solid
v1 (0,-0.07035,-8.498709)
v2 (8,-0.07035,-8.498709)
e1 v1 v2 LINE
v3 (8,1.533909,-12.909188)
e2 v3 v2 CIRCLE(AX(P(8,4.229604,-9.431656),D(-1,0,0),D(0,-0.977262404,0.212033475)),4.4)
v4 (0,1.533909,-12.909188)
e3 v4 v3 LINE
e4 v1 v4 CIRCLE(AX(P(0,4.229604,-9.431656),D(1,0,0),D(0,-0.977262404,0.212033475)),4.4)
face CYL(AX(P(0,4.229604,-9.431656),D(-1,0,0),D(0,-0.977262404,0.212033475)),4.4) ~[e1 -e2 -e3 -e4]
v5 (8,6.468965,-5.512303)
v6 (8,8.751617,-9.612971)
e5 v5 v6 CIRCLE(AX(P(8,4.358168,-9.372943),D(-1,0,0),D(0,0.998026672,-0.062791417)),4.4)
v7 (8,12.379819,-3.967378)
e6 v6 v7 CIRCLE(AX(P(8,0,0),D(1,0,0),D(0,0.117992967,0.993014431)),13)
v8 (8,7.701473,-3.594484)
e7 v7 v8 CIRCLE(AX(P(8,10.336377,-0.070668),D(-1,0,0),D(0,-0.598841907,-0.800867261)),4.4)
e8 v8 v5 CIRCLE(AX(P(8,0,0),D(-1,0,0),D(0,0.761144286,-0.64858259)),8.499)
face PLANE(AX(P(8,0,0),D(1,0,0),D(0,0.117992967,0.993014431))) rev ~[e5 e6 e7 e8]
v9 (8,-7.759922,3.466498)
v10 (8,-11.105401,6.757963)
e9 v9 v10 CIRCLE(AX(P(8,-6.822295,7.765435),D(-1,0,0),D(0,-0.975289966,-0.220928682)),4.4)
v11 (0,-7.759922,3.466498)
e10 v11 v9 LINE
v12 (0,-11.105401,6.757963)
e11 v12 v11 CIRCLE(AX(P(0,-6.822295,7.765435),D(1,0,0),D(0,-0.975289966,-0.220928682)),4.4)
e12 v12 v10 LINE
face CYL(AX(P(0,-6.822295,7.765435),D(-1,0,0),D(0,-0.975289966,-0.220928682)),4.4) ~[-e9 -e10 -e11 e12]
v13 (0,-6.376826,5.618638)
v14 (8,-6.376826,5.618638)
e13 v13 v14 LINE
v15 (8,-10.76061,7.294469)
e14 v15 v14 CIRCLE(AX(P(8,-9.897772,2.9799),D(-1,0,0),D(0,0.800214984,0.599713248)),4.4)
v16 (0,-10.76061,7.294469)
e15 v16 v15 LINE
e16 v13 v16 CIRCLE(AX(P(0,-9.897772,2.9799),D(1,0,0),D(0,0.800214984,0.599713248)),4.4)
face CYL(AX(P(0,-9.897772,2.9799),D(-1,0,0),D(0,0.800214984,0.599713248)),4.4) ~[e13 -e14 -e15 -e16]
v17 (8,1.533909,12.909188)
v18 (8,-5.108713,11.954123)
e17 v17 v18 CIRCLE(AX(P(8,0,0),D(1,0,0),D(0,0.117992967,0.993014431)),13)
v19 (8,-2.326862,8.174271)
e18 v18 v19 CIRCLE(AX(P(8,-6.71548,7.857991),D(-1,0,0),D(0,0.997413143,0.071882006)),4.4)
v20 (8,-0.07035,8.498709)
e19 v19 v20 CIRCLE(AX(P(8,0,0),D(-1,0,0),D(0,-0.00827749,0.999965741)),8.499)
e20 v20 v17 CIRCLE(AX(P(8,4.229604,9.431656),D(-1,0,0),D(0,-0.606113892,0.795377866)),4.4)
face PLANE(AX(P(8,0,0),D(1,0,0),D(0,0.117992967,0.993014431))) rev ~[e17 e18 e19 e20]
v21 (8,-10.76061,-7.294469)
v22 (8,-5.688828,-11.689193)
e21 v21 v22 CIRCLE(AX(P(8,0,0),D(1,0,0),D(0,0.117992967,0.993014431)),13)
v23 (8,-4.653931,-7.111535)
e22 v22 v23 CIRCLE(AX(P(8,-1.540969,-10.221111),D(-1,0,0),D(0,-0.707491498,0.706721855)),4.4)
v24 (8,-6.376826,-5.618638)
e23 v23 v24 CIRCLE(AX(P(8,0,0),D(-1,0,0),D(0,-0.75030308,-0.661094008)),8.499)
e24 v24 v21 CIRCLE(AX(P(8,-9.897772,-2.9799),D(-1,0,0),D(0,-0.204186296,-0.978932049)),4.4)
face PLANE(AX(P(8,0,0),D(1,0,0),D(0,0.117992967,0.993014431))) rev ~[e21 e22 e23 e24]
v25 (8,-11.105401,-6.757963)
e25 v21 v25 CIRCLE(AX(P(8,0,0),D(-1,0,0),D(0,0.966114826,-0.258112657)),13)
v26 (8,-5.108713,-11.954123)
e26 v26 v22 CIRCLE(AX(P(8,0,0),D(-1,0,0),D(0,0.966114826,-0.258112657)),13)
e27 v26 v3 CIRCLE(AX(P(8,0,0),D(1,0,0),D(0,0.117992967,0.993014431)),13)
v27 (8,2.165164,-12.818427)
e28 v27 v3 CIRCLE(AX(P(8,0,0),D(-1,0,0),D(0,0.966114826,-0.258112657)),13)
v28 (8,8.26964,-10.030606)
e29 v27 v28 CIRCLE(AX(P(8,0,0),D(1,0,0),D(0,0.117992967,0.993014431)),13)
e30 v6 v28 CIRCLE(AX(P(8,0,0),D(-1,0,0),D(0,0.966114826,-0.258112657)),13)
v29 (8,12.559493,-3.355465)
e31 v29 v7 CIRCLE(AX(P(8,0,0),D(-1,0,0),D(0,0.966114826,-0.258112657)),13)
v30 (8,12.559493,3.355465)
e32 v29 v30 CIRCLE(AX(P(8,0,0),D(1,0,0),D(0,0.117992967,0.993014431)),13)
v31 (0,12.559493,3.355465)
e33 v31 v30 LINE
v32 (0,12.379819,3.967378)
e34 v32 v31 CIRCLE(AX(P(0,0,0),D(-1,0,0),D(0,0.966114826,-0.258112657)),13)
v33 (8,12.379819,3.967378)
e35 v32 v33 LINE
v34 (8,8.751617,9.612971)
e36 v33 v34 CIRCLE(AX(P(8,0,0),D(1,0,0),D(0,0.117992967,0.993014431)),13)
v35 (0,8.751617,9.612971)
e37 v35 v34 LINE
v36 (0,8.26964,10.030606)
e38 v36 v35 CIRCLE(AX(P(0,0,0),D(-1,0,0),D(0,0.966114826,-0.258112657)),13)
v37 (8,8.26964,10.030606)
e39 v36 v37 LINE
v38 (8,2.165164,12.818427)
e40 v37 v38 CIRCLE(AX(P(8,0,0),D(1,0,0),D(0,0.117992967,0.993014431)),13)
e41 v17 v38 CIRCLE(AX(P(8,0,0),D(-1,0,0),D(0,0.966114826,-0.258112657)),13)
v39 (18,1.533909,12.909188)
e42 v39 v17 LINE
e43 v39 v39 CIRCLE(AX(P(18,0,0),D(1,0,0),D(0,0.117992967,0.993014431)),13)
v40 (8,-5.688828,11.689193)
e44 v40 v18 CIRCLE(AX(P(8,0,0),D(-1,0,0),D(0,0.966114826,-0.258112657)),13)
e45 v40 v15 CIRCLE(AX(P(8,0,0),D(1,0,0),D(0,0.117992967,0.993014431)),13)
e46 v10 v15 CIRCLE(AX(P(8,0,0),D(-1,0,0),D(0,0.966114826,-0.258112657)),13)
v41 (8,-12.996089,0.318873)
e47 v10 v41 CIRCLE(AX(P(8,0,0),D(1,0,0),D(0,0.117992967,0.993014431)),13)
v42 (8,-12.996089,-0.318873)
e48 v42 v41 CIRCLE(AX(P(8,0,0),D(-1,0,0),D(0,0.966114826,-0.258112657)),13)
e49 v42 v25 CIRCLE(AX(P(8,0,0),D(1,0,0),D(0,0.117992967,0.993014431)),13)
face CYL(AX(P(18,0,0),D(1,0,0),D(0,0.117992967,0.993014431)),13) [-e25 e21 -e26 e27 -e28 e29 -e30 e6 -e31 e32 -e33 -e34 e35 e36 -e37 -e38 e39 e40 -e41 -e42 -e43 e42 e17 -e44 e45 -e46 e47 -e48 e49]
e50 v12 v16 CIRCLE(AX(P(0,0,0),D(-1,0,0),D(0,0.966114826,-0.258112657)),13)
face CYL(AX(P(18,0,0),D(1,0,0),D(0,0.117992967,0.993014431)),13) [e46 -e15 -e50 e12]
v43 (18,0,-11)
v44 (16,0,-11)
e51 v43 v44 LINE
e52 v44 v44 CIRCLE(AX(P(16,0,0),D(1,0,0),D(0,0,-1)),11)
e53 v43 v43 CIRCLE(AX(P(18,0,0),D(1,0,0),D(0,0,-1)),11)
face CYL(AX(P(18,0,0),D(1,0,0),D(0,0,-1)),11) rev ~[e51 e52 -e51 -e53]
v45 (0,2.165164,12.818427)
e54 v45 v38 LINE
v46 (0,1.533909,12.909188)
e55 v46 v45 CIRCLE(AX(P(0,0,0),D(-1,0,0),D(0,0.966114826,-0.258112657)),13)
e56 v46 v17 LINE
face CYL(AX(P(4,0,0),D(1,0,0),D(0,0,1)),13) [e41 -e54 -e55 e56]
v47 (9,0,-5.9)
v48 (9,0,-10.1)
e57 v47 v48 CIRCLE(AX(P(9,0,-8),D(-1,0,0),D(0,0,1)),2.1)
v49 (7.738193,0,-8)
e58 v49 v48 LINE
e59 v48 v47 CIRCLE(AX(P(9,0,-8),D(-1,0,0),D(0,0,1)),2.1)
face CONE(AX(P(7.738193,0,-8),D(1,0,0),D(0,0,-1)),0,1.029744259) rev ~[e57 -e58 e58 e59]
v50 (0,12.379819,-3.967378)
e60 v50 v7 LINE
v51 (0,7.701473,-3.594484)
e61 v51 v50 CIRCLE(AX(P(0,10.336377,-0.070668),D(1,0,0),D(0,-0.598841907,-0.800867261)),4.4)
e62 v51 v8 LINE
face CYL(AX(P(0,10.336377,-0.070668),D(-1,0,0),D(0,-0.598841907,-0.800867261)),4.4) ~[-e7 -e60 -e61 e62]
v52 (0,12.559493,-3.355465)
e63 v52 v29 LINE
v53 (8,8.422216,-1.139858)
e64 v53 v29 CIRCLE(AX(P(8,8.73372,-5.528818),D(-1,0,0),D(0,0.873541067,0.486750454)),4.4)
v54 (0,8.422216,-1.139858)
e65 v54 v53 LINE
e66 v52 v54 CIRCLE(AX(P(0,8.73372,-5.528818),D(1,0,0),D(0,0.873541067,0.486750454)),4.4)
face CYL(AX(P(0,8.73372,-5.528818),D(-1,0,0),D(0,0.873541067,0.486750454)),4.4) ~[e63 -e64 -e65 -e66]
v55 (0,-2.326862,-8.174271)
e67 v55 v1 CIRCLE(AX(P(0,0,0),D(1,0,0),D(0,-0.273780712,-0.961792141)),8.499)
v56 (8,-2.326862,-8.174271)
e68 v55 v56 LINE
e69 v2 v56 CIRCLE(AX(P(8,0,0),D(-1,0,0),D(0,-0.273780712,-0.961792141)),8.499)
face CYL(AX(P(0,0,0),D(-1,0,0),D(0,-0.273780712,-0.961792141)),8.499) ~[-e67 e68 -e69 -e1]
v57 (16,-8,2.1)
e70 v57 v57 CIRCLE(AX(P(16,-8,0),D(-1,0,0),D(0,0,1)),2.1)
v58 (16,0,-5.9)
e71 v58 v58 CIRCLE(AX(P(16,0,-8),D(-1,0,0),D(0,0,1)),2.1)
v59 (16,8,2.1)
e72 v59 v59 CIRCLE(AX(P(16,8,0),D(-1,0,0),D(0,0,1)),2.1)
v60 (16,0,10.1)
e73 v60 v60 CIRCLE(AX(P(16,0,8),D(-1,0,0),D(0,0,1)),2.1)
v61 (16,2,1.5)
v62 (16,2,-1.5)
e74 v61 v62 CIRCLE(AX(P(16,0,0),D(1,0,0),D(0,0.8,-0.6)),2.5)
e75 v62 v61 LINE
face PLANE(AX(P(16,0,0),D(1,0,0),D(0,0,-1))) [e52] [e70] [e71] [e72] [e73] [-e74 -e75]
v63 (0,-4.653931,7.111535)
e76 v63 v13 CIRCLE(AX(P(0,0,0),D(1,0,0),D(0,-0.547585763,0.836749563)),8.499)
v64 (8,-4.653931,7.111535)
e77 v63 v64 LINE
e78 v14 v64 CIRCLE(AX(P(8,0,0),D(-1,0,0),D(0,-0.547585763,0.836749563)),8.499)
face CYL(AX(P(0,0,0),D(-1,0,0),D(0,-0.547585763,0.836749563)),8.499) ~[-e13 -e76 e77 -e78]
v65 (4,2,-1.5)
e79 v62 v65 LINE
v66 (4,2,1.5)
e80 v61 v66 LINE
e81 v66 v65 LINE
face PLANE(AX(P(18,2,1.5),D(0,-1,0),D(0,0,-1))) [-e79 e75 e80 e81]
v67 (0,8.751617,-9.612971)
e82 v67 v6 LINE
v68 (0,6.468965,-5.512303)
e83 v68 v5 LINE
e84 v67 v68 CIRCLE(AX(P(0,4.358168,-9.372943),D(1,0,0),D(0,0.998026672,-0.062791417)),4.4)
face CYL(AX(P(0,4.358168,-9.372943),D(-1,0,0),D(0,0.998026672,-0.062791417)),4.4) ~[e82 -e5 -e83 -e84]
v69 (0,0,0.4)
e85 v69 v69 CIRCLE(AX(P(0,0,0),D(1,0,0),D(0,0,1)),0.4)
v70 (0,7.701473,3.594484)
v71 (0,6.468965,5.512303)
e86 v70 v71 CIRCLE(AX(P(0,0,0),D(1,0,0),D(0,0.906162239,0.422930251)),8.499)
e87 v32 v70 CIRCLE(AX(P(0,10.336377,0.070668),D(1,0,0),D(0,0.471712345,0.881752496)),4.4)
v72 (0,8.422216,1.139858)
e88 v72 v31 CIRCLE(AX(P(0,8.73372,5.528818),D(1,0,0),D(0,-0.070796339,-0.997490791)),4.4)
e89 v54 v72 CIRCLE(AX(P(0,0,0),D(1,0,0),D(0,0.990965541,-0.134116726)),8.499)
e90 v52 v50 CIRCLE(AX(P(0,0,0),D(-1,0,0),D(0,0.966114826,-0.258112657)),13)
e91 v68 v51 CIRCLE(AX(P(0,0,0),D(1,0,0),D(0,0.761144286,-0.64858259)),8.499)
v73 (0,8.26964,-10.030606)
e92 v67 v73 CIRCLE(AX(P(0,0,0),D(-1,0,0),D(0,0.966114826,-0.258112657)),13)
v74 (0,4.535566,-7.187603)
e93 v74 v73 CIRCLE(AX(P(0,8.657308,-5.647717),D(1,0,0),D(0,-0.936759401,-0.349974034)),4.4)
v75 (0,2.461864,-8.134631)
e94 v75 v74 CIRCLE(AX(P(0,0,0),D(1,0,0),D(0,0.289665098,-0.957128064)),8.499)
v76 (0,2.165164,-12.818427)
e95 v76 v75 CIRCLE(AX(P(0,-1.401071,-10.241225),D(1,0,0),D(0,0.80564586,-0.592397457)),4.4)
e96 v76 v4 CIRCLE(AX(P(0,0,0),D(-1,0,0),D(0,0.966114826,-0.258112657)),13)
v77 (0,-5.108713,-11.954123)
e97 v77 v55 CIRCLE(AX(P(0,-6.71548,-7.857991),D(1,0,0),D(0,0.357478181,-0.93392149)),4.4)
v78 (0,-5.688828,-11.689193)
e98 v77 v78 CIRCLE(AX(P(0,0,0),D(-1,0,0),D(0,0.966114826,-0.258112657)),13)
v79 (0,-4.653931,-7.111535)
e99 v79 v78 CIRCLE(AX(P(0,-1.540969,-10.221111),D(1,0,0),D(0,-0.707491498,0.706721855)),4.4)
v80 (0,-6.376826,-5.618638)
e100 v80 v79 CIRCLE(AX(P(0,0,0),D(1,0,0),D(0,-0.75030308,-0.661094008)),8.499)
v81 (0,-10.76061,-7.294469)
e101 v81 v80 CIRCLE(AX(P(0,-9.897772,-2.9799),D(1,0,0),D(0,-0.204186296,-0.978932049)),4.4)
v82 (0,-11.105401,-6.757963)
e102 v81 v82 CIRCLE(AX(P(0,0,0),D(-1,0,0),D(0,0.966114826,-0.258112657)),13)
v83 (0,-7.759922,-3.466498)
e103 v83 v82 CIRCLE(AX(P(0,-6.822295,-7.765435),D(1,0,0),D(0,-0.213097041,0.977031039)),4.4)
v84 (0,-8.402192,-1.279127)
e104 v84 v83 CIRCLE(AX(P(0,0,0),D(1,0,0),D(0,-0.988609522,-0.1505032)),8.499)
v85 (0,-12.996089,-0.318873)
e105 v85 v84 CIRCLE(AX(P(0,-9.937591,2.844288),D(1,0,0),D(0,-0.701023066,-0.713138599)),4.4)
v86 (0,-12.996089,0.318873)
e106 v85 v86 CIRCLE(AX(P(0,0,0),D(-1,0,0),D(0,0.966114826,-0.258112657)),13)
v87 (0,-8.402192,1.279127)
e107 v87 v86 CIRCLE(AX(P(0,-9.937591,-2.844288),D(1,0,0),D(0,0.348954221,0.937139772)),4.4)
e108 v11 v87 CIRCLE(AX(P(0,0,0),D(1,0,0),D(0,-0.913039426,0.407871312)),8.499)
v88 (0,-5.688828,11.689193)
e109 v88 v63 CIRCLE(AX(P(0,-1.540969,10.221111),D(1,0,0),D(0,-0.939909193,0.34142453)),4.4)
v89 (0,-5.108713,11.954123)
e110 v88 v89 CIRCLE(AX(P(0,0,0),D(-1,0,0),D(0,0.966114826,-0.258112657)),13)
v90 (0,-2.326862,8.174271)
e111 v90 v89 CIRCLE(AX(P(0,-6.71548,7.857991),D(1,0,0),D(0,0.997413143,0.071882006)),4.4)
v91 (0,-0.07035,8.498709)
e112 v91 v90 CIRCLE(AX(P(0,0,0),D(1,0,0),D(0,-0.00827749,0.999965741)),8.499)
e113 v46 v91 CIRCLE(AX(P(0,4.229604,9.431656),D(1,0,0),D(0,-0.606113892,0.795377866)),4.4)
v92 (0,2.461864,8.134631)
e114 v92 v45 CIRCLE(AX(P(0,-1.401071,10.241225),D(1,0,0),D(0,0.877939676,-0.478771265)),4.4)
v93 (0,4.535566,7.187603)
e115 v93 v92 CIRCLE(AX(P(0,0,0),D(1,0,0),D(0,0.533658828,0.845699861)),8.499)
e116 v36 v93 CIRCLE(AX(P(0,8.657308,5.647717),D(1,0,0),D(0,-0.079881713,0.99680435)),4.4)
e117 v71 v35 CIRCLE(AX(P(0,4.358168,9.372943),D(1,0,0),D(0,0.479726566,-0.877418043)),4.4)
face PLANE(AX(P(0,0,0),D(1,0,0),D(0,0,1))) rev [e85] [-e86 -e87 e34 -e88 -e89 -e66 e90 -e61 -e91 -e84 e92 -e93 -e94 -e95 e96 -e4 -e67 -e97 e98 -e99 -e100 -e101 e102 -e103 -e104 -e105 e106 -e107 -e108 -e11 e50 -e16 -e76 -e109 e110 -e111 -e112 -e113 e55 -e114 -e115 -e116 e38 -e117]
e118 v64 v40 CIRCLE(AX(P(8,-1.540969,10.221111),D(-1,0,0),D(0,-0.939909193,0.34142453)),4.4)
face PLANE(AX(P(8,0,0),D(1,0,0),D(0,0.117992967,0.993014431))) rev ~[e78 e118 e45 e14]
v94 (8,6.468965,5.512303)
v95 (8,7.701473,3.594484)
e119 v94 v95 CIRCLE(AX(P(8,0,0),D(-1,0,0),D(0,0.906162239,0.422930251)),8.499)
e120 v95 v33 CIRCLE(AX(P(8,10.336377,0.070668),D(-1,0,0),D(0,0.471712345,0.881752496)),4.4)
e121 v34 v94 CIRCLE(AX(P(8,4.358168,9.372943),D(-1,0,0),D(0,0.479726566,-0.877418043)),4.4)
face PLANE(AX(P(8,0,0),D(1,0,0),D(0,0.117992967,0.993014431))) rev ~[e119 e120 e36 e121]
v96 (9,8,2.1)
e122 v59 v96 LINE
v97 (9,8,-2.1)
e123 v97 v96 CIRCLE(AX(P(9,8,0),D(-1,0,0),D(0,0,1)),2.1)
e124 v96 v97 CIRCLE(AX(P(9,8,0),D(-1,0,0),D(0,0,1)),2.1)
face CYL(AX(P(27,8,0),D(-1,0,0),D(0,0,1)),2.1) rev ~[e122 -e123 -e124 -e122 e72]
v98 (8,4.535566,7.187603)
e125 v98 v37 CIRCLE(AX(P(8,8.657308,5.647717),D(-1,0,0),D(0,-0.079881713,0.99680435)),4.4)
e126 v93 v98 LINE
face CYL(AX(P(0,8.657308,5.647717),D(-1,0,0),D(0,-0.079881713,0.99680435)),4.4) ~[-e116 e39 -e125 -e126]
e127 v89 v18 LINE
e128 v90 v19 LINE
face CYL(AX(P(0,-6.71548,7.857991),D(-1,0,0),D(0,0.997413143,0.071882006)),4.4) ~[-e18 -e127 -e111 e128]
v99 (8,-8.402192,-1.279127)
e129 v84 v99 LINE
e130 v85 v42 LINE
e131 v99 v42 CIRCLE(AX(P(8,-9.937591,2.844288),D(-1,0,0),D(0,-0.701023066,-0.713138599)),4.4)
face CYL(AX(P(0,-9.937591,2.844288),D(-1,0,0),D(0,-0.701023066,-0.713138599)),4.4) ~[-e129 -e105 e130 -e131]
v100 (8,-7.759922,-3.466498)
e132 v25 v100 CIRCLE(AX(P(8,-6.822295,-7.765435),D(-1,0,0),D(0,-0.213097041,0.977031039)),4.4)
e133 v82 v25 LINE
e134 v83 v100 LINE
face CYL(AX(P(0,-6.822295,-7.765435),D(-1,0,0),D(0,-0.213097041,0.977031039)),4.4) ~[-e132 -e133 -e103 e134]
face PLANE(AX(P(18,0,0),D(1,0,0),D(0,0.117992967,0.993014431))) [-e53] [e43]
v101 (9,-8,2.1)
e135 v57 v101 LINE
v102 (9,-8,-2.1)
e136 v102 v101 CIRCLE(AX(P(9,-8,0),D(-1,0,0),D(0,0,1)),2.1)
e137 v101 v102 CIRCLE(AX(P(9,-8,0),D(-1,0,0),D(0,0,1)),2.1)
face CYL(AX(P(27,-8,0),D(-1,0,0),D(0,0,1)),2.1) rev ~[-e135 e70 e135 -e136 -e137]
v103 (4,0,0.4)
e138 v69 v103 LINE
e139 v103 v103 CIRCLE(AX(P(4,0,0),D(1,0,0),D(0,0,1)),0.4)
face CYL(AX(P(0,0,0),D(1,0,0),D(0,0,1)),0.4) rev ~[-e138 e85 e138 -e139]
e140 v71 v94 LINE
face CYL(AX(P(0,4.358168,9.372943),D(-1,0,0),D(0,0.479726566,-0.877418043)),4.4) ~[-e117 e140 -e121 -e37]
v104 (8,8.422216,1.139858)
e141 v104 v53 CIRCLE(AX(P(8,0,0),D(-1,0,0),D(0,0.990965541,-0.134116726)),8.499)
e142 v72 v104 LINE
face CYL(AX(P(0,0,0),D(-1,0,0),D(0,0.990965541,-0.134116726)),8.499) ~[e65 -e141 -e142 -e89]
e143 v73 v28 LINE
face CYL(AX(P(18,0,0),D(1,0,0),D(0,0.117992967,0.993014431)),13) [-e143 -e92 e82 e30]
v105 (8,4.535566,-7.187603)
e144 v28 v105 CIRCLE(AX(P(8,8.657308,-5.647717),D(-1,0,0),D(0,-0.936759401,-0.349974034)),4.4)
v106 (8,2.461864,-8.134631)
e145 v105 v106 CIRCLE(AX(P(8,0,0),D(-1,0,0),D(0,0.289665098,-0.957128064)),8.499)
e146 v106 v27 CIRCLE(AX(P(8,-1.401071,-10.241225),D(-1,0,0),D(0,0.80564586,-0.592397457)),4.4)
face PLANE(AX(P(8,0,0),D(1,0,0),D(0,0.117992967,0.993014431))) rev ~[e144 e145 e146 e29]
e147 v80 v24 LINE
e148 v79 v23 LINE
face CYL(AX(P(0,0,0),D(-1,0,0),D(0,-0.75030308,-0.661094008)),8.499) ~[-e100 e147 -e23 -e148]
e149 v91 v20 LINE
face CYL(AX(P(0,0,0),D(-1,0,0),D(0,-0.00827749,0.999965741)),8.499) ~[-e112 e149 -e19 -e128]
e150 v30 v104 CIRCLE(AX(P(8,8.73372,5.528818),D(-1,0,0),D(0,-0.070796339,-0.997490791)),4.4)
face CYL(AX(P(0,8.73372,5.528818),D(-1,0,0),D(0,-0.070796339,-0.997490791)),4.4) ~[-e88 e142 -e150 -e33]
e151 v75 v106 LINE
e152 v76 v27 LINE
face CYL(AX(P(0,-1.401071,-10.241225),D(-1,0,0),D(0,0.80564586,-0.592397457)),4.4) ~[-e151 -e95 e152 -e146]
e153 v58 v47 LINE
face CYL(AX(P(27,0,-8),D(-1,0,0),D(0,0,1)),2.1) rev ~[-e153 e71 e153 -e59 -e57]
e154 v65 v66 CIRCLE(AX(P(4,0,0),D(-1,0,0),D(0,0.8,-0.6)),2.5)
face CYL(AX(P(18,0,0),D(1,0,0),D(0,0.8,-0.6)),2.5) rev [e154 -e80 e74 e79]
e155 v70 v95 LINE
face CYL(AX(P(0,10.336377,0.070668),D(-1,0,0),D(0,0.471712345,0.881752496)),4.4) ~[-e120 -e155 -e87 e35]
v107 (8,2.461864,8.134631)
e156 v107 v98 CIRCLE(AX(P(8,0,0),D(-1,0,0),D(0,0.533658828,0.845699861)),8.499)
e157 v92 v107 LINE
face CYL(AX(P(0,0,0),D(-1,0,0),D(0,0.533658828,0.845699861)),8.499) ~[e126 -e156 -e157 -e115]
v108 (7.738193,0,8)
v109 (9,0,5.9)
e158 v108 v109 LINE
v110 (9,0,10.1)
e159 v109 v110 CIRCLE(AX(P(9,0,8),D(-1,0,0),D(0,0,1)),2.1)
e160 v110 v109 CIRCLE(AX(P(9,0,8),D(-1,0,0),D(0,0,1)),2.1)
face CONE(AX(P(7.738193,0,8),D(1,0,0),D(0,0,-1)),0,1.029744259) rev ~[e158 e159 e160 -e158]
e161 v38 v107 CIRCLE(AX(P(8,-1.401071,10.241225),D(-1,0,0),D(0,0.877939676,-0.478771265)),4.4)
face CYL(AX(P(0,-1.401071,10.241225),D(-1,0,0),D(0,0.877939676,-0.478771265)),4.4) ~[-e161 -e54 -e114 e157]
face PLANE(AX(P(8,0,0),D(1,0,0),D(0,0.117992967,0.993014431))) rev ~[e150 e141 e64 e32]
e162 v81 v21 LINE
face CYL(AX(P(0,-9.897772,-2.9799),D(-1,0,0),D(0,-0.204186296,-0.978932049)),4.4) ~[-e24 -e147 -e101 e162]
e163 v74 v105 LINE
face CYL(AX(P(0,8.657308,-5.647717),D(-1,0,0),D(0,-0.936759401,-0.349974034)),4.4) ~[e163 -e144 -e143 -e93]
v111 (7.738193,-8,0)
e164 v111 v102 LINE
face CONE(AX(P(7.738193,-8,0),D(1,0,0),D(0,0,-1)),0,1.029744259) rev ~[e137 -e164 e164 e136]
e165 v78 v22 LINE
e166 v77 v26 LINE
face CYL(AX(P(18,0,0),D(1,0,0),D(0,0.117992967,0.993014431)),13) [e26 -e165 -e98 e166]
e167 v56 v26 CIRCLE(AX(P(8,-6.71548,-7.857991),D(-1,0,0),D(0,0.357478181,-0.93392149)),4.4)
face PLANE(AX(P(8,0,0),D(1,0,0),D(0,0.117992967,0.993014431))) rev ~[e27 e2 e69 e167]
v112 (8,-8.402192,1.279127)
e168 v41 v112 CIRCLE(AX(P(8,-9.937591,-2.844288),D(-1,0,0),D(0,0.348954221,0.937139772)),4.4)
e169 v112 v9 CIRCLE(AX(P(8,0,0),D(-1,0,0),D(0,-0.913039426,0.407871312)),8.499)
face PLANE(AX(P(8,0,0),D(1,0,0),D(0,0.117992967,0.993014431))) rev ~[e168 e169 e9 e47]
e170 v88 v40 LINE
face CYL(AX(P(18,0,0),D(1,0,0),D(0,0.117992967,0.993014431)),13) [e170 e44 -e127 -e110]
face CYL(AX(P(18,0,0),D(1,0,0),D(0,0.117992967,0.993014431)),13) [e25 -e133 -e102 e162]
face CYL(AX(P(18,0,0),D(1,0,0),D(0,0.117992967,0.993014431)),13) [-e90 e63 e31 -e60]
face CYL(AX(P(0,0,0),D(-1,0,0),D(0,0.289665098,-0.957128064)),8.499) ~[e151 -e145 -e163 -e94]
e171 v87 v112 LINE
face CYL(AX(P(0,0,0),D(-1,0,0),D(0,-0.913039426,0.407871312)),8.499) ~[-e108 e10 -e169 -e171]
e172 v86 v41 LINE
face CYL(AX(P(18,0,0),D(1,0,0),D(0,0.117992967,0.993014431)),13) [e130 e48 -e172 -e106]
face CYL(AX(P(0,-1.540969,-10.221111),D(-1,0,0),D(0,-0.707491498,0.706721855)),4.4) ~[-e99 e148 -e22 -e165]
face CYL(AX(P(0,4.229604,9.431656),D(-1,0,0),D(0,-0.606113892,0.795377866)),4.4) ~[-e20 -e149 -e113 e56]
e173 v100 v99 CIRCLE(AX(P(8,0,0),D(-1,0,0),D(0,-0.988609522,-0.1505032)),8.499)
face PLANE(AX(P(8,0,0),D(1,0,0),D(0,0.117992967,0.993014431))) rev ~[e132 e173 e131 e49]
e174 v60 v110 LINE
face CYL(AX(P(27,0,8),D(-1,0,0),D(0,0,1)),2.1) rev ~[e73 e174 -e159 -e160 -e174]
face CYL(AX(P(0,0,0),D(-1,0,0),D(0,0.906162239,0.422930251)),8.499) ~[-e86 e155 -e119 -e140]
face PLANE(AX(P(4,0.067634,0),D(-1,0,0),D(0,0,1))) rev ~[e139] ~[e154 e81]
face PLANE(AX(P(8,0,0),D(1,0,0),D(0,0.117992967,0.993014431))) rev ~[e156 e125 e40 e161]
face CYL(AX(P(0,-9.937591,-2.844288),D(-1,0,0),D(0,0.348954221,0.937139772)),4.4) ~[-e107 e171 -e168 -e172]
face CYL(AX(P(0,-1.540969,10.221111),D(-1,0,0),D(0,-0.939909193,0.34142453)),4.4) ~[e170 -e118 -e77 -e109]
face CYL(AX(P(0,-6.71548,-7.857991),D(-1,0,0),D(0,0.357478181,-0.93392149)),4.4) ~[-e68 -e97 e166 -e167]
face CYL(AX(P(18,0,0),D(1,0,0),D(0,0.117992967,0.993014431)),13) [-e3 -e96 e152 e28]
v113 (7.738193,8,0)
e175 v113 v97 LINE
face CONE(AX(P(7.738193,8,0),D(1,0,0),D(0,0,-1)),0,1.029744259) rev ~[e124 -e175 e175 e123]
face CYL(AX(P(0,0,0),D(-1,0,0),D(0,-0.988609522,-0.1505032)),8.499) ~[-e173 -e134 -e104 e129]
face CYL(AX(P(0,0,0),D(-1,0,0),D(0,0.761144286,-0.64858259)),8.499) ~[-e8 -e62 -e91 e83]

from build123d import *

# Parameters (mm, degrees)
BASPROSKE_W                  = 8
BASPROSKE_H                  = 13
TOOTHCUT_DEPTH               = 21.049937656
TEETHCUTS_COUNT              = 11
TEETHCUTS_ANGLE              = 327.272727273
BORSKE_R                     = 0.4
BORE_DEPTH                   = 50.0000508
ESTRUSIONE_ESTRUSIONE1_START = 10
SCHIZZO2_R                   = 13
ESTRUSIONE_ESTRUSIONE1_DEPTH = 10
TAGLIO_ESTRUSIONE1_DEPTH     = 14
FORO_PER_VITE_M3_1_D         = 4.2
FORO_PER_VITE_M3_1_DEPTH     = 9
FORO_PER_VITE_M3_1_TIP       = 1.2618073
SCHIZZO5_R                   = 11
TAGLIO_ESTRUSIONE2_DEPTH     = 2


with BuildPart() as part:
    # BasProSke → Base-Revolve (revolve)
    with BuildSketch(Plane(origin=(0, 0, 0), x_dir=(1, 0, 0), z_dir=(0, 1, 0)), mode=Mode.PRIVATE) as base_revolve_sk:
        with Locations((4, 6.5)):
            Rectangle(BASPROSKE_W, BASPROSKE_H)
    revolve(base_revolve_sk.sketch.rotate(Axis((-10, 0, 0), (1, 0, 0)), 180), axis=Axis((-10, 0, 0), (1, 0, 0)))

    # TooCutSke → ToothCut (cut, through all)
    with BuildSketch(Plane(origin=(0, 0, 0), x_dir=(0, 0, -1), z_dir=(1, 0, 0))):
        with BuildLine():
            ThreePointArc((1.139858048, 8.422216135), (0, 8.499), (-1.139858048, 8.422216135))
            ThreePointArc((-1.139858048, 8.422216135), (-1.658602184, 10.826907356), (-3.387115532, 12.577300725))
            ThreePointArc((-3.387115532, 12.577300725), (0, 13.0254), (3.387115532, 12.577300725))
            ThreePointArc((3.387115532, 12.577300725), (1.658602184, 10.826907356), (1.139858048, 8.422216135))
        make_face()
    toothcut = extrude(amount=TOOTHCUT_DEPTH, mode=Mode.SUBTRACT)

    # TeethCuts: ToothCut ×11 about axis
    teethcuts_axis = Axis((-10, 0, 0), (1, 0, 0))
    for i in range(1, TEETHCUTS_COUNT):
        add(toothcut.rotate(teethcuts_axis, i * TEETHCUTS_ANGLE / (TEETHCUTS_COUNT - 1)), mode=Mode.SUBTRACT)

    # BorSke → Bore (cut, symmetric)
    with BuildSketch(Plane(origin=(0, 0, 0), x_dir=(0, 0, -1), z_dir=(1, 0, 0))):
        with Locations(Location((0, 0, 0), (0, 0, 180))):
            Circle(BORSKE_R)
    extrude(amount=BORE_DEPTH, both=True, mode=Mode.SUBTRACT)

    # Schizzo2 → Estrusione-Estrusione1 (add)
    with BuildSketch(Plane(origin=(8, 0, 0), x_dir=(0, 0, -1), z_dir=(1, 0, 0)).offset(ESTRUSIONE_ESTRUSIONE1_START)):
        with Locations(Location((0, 0, 0), (0, 0, 173.223714884))):
            Circle(SCHIZZO2_R)
    extrude(amount=-ESTRUSIONE_ESTRUSIONE1_DEPTH)

    # Schizzo1 → Taglio-Estrusione1 (cut)
    with BuildSketch(Plane(origin=(18, 0, 0), x_dir=(0, 0, -1), z_dir=(1, 0, 0))):
        with BuildLine():
            Line((-1.5, 2), (1.5, 2))
            ThreePointArc((1.5, 2), (0, -2.5), (-1.5, 2))
        make_face()
    extrude(amount=-TAGLIO_ESTRUSIONE1_DEPTH, mode=Mode.SUBTRACT)

    # Foro per Vite M3-1
    with Locations(Plane(origin=(18, 0, 0), x_dir=(0, 0, -1), z_dir=(1, 0, 0))):
        with Locations((0, 8), (8, 0), (0, -8), (-8, 0)):
            Hole(FORO_PER_VITE_M3_1_D / 2, depth=FORO_PER_VITE_M3_1_DEPTH)
            with Locations((0, 0, -(FORO_PER_VITE_M3_1_DEPTH + FORO_PER_VITE_M3_1_TIP / 2))):  # 118° drill point
                Cone(0, FORO_PER_VITE_M3_1_D / 2, FORO_PER_VITE_M3_1_TIP, mode=Mode.SUBTRACT)

    # Schizzo5 → Taglio-Estrusione2 (cut)
    with BuildSketch(Plane(origin=(18, 0, 0), x_dir=(0, 0, -1), z_dir=(1, 0, 0))):
        Circle(SCHIZZO5_R)
    extrude(amount=-TAGLIO_ESTRUSIONE2_DEPTH, mode=Mode.SUBTRACT)


solid = part.part
